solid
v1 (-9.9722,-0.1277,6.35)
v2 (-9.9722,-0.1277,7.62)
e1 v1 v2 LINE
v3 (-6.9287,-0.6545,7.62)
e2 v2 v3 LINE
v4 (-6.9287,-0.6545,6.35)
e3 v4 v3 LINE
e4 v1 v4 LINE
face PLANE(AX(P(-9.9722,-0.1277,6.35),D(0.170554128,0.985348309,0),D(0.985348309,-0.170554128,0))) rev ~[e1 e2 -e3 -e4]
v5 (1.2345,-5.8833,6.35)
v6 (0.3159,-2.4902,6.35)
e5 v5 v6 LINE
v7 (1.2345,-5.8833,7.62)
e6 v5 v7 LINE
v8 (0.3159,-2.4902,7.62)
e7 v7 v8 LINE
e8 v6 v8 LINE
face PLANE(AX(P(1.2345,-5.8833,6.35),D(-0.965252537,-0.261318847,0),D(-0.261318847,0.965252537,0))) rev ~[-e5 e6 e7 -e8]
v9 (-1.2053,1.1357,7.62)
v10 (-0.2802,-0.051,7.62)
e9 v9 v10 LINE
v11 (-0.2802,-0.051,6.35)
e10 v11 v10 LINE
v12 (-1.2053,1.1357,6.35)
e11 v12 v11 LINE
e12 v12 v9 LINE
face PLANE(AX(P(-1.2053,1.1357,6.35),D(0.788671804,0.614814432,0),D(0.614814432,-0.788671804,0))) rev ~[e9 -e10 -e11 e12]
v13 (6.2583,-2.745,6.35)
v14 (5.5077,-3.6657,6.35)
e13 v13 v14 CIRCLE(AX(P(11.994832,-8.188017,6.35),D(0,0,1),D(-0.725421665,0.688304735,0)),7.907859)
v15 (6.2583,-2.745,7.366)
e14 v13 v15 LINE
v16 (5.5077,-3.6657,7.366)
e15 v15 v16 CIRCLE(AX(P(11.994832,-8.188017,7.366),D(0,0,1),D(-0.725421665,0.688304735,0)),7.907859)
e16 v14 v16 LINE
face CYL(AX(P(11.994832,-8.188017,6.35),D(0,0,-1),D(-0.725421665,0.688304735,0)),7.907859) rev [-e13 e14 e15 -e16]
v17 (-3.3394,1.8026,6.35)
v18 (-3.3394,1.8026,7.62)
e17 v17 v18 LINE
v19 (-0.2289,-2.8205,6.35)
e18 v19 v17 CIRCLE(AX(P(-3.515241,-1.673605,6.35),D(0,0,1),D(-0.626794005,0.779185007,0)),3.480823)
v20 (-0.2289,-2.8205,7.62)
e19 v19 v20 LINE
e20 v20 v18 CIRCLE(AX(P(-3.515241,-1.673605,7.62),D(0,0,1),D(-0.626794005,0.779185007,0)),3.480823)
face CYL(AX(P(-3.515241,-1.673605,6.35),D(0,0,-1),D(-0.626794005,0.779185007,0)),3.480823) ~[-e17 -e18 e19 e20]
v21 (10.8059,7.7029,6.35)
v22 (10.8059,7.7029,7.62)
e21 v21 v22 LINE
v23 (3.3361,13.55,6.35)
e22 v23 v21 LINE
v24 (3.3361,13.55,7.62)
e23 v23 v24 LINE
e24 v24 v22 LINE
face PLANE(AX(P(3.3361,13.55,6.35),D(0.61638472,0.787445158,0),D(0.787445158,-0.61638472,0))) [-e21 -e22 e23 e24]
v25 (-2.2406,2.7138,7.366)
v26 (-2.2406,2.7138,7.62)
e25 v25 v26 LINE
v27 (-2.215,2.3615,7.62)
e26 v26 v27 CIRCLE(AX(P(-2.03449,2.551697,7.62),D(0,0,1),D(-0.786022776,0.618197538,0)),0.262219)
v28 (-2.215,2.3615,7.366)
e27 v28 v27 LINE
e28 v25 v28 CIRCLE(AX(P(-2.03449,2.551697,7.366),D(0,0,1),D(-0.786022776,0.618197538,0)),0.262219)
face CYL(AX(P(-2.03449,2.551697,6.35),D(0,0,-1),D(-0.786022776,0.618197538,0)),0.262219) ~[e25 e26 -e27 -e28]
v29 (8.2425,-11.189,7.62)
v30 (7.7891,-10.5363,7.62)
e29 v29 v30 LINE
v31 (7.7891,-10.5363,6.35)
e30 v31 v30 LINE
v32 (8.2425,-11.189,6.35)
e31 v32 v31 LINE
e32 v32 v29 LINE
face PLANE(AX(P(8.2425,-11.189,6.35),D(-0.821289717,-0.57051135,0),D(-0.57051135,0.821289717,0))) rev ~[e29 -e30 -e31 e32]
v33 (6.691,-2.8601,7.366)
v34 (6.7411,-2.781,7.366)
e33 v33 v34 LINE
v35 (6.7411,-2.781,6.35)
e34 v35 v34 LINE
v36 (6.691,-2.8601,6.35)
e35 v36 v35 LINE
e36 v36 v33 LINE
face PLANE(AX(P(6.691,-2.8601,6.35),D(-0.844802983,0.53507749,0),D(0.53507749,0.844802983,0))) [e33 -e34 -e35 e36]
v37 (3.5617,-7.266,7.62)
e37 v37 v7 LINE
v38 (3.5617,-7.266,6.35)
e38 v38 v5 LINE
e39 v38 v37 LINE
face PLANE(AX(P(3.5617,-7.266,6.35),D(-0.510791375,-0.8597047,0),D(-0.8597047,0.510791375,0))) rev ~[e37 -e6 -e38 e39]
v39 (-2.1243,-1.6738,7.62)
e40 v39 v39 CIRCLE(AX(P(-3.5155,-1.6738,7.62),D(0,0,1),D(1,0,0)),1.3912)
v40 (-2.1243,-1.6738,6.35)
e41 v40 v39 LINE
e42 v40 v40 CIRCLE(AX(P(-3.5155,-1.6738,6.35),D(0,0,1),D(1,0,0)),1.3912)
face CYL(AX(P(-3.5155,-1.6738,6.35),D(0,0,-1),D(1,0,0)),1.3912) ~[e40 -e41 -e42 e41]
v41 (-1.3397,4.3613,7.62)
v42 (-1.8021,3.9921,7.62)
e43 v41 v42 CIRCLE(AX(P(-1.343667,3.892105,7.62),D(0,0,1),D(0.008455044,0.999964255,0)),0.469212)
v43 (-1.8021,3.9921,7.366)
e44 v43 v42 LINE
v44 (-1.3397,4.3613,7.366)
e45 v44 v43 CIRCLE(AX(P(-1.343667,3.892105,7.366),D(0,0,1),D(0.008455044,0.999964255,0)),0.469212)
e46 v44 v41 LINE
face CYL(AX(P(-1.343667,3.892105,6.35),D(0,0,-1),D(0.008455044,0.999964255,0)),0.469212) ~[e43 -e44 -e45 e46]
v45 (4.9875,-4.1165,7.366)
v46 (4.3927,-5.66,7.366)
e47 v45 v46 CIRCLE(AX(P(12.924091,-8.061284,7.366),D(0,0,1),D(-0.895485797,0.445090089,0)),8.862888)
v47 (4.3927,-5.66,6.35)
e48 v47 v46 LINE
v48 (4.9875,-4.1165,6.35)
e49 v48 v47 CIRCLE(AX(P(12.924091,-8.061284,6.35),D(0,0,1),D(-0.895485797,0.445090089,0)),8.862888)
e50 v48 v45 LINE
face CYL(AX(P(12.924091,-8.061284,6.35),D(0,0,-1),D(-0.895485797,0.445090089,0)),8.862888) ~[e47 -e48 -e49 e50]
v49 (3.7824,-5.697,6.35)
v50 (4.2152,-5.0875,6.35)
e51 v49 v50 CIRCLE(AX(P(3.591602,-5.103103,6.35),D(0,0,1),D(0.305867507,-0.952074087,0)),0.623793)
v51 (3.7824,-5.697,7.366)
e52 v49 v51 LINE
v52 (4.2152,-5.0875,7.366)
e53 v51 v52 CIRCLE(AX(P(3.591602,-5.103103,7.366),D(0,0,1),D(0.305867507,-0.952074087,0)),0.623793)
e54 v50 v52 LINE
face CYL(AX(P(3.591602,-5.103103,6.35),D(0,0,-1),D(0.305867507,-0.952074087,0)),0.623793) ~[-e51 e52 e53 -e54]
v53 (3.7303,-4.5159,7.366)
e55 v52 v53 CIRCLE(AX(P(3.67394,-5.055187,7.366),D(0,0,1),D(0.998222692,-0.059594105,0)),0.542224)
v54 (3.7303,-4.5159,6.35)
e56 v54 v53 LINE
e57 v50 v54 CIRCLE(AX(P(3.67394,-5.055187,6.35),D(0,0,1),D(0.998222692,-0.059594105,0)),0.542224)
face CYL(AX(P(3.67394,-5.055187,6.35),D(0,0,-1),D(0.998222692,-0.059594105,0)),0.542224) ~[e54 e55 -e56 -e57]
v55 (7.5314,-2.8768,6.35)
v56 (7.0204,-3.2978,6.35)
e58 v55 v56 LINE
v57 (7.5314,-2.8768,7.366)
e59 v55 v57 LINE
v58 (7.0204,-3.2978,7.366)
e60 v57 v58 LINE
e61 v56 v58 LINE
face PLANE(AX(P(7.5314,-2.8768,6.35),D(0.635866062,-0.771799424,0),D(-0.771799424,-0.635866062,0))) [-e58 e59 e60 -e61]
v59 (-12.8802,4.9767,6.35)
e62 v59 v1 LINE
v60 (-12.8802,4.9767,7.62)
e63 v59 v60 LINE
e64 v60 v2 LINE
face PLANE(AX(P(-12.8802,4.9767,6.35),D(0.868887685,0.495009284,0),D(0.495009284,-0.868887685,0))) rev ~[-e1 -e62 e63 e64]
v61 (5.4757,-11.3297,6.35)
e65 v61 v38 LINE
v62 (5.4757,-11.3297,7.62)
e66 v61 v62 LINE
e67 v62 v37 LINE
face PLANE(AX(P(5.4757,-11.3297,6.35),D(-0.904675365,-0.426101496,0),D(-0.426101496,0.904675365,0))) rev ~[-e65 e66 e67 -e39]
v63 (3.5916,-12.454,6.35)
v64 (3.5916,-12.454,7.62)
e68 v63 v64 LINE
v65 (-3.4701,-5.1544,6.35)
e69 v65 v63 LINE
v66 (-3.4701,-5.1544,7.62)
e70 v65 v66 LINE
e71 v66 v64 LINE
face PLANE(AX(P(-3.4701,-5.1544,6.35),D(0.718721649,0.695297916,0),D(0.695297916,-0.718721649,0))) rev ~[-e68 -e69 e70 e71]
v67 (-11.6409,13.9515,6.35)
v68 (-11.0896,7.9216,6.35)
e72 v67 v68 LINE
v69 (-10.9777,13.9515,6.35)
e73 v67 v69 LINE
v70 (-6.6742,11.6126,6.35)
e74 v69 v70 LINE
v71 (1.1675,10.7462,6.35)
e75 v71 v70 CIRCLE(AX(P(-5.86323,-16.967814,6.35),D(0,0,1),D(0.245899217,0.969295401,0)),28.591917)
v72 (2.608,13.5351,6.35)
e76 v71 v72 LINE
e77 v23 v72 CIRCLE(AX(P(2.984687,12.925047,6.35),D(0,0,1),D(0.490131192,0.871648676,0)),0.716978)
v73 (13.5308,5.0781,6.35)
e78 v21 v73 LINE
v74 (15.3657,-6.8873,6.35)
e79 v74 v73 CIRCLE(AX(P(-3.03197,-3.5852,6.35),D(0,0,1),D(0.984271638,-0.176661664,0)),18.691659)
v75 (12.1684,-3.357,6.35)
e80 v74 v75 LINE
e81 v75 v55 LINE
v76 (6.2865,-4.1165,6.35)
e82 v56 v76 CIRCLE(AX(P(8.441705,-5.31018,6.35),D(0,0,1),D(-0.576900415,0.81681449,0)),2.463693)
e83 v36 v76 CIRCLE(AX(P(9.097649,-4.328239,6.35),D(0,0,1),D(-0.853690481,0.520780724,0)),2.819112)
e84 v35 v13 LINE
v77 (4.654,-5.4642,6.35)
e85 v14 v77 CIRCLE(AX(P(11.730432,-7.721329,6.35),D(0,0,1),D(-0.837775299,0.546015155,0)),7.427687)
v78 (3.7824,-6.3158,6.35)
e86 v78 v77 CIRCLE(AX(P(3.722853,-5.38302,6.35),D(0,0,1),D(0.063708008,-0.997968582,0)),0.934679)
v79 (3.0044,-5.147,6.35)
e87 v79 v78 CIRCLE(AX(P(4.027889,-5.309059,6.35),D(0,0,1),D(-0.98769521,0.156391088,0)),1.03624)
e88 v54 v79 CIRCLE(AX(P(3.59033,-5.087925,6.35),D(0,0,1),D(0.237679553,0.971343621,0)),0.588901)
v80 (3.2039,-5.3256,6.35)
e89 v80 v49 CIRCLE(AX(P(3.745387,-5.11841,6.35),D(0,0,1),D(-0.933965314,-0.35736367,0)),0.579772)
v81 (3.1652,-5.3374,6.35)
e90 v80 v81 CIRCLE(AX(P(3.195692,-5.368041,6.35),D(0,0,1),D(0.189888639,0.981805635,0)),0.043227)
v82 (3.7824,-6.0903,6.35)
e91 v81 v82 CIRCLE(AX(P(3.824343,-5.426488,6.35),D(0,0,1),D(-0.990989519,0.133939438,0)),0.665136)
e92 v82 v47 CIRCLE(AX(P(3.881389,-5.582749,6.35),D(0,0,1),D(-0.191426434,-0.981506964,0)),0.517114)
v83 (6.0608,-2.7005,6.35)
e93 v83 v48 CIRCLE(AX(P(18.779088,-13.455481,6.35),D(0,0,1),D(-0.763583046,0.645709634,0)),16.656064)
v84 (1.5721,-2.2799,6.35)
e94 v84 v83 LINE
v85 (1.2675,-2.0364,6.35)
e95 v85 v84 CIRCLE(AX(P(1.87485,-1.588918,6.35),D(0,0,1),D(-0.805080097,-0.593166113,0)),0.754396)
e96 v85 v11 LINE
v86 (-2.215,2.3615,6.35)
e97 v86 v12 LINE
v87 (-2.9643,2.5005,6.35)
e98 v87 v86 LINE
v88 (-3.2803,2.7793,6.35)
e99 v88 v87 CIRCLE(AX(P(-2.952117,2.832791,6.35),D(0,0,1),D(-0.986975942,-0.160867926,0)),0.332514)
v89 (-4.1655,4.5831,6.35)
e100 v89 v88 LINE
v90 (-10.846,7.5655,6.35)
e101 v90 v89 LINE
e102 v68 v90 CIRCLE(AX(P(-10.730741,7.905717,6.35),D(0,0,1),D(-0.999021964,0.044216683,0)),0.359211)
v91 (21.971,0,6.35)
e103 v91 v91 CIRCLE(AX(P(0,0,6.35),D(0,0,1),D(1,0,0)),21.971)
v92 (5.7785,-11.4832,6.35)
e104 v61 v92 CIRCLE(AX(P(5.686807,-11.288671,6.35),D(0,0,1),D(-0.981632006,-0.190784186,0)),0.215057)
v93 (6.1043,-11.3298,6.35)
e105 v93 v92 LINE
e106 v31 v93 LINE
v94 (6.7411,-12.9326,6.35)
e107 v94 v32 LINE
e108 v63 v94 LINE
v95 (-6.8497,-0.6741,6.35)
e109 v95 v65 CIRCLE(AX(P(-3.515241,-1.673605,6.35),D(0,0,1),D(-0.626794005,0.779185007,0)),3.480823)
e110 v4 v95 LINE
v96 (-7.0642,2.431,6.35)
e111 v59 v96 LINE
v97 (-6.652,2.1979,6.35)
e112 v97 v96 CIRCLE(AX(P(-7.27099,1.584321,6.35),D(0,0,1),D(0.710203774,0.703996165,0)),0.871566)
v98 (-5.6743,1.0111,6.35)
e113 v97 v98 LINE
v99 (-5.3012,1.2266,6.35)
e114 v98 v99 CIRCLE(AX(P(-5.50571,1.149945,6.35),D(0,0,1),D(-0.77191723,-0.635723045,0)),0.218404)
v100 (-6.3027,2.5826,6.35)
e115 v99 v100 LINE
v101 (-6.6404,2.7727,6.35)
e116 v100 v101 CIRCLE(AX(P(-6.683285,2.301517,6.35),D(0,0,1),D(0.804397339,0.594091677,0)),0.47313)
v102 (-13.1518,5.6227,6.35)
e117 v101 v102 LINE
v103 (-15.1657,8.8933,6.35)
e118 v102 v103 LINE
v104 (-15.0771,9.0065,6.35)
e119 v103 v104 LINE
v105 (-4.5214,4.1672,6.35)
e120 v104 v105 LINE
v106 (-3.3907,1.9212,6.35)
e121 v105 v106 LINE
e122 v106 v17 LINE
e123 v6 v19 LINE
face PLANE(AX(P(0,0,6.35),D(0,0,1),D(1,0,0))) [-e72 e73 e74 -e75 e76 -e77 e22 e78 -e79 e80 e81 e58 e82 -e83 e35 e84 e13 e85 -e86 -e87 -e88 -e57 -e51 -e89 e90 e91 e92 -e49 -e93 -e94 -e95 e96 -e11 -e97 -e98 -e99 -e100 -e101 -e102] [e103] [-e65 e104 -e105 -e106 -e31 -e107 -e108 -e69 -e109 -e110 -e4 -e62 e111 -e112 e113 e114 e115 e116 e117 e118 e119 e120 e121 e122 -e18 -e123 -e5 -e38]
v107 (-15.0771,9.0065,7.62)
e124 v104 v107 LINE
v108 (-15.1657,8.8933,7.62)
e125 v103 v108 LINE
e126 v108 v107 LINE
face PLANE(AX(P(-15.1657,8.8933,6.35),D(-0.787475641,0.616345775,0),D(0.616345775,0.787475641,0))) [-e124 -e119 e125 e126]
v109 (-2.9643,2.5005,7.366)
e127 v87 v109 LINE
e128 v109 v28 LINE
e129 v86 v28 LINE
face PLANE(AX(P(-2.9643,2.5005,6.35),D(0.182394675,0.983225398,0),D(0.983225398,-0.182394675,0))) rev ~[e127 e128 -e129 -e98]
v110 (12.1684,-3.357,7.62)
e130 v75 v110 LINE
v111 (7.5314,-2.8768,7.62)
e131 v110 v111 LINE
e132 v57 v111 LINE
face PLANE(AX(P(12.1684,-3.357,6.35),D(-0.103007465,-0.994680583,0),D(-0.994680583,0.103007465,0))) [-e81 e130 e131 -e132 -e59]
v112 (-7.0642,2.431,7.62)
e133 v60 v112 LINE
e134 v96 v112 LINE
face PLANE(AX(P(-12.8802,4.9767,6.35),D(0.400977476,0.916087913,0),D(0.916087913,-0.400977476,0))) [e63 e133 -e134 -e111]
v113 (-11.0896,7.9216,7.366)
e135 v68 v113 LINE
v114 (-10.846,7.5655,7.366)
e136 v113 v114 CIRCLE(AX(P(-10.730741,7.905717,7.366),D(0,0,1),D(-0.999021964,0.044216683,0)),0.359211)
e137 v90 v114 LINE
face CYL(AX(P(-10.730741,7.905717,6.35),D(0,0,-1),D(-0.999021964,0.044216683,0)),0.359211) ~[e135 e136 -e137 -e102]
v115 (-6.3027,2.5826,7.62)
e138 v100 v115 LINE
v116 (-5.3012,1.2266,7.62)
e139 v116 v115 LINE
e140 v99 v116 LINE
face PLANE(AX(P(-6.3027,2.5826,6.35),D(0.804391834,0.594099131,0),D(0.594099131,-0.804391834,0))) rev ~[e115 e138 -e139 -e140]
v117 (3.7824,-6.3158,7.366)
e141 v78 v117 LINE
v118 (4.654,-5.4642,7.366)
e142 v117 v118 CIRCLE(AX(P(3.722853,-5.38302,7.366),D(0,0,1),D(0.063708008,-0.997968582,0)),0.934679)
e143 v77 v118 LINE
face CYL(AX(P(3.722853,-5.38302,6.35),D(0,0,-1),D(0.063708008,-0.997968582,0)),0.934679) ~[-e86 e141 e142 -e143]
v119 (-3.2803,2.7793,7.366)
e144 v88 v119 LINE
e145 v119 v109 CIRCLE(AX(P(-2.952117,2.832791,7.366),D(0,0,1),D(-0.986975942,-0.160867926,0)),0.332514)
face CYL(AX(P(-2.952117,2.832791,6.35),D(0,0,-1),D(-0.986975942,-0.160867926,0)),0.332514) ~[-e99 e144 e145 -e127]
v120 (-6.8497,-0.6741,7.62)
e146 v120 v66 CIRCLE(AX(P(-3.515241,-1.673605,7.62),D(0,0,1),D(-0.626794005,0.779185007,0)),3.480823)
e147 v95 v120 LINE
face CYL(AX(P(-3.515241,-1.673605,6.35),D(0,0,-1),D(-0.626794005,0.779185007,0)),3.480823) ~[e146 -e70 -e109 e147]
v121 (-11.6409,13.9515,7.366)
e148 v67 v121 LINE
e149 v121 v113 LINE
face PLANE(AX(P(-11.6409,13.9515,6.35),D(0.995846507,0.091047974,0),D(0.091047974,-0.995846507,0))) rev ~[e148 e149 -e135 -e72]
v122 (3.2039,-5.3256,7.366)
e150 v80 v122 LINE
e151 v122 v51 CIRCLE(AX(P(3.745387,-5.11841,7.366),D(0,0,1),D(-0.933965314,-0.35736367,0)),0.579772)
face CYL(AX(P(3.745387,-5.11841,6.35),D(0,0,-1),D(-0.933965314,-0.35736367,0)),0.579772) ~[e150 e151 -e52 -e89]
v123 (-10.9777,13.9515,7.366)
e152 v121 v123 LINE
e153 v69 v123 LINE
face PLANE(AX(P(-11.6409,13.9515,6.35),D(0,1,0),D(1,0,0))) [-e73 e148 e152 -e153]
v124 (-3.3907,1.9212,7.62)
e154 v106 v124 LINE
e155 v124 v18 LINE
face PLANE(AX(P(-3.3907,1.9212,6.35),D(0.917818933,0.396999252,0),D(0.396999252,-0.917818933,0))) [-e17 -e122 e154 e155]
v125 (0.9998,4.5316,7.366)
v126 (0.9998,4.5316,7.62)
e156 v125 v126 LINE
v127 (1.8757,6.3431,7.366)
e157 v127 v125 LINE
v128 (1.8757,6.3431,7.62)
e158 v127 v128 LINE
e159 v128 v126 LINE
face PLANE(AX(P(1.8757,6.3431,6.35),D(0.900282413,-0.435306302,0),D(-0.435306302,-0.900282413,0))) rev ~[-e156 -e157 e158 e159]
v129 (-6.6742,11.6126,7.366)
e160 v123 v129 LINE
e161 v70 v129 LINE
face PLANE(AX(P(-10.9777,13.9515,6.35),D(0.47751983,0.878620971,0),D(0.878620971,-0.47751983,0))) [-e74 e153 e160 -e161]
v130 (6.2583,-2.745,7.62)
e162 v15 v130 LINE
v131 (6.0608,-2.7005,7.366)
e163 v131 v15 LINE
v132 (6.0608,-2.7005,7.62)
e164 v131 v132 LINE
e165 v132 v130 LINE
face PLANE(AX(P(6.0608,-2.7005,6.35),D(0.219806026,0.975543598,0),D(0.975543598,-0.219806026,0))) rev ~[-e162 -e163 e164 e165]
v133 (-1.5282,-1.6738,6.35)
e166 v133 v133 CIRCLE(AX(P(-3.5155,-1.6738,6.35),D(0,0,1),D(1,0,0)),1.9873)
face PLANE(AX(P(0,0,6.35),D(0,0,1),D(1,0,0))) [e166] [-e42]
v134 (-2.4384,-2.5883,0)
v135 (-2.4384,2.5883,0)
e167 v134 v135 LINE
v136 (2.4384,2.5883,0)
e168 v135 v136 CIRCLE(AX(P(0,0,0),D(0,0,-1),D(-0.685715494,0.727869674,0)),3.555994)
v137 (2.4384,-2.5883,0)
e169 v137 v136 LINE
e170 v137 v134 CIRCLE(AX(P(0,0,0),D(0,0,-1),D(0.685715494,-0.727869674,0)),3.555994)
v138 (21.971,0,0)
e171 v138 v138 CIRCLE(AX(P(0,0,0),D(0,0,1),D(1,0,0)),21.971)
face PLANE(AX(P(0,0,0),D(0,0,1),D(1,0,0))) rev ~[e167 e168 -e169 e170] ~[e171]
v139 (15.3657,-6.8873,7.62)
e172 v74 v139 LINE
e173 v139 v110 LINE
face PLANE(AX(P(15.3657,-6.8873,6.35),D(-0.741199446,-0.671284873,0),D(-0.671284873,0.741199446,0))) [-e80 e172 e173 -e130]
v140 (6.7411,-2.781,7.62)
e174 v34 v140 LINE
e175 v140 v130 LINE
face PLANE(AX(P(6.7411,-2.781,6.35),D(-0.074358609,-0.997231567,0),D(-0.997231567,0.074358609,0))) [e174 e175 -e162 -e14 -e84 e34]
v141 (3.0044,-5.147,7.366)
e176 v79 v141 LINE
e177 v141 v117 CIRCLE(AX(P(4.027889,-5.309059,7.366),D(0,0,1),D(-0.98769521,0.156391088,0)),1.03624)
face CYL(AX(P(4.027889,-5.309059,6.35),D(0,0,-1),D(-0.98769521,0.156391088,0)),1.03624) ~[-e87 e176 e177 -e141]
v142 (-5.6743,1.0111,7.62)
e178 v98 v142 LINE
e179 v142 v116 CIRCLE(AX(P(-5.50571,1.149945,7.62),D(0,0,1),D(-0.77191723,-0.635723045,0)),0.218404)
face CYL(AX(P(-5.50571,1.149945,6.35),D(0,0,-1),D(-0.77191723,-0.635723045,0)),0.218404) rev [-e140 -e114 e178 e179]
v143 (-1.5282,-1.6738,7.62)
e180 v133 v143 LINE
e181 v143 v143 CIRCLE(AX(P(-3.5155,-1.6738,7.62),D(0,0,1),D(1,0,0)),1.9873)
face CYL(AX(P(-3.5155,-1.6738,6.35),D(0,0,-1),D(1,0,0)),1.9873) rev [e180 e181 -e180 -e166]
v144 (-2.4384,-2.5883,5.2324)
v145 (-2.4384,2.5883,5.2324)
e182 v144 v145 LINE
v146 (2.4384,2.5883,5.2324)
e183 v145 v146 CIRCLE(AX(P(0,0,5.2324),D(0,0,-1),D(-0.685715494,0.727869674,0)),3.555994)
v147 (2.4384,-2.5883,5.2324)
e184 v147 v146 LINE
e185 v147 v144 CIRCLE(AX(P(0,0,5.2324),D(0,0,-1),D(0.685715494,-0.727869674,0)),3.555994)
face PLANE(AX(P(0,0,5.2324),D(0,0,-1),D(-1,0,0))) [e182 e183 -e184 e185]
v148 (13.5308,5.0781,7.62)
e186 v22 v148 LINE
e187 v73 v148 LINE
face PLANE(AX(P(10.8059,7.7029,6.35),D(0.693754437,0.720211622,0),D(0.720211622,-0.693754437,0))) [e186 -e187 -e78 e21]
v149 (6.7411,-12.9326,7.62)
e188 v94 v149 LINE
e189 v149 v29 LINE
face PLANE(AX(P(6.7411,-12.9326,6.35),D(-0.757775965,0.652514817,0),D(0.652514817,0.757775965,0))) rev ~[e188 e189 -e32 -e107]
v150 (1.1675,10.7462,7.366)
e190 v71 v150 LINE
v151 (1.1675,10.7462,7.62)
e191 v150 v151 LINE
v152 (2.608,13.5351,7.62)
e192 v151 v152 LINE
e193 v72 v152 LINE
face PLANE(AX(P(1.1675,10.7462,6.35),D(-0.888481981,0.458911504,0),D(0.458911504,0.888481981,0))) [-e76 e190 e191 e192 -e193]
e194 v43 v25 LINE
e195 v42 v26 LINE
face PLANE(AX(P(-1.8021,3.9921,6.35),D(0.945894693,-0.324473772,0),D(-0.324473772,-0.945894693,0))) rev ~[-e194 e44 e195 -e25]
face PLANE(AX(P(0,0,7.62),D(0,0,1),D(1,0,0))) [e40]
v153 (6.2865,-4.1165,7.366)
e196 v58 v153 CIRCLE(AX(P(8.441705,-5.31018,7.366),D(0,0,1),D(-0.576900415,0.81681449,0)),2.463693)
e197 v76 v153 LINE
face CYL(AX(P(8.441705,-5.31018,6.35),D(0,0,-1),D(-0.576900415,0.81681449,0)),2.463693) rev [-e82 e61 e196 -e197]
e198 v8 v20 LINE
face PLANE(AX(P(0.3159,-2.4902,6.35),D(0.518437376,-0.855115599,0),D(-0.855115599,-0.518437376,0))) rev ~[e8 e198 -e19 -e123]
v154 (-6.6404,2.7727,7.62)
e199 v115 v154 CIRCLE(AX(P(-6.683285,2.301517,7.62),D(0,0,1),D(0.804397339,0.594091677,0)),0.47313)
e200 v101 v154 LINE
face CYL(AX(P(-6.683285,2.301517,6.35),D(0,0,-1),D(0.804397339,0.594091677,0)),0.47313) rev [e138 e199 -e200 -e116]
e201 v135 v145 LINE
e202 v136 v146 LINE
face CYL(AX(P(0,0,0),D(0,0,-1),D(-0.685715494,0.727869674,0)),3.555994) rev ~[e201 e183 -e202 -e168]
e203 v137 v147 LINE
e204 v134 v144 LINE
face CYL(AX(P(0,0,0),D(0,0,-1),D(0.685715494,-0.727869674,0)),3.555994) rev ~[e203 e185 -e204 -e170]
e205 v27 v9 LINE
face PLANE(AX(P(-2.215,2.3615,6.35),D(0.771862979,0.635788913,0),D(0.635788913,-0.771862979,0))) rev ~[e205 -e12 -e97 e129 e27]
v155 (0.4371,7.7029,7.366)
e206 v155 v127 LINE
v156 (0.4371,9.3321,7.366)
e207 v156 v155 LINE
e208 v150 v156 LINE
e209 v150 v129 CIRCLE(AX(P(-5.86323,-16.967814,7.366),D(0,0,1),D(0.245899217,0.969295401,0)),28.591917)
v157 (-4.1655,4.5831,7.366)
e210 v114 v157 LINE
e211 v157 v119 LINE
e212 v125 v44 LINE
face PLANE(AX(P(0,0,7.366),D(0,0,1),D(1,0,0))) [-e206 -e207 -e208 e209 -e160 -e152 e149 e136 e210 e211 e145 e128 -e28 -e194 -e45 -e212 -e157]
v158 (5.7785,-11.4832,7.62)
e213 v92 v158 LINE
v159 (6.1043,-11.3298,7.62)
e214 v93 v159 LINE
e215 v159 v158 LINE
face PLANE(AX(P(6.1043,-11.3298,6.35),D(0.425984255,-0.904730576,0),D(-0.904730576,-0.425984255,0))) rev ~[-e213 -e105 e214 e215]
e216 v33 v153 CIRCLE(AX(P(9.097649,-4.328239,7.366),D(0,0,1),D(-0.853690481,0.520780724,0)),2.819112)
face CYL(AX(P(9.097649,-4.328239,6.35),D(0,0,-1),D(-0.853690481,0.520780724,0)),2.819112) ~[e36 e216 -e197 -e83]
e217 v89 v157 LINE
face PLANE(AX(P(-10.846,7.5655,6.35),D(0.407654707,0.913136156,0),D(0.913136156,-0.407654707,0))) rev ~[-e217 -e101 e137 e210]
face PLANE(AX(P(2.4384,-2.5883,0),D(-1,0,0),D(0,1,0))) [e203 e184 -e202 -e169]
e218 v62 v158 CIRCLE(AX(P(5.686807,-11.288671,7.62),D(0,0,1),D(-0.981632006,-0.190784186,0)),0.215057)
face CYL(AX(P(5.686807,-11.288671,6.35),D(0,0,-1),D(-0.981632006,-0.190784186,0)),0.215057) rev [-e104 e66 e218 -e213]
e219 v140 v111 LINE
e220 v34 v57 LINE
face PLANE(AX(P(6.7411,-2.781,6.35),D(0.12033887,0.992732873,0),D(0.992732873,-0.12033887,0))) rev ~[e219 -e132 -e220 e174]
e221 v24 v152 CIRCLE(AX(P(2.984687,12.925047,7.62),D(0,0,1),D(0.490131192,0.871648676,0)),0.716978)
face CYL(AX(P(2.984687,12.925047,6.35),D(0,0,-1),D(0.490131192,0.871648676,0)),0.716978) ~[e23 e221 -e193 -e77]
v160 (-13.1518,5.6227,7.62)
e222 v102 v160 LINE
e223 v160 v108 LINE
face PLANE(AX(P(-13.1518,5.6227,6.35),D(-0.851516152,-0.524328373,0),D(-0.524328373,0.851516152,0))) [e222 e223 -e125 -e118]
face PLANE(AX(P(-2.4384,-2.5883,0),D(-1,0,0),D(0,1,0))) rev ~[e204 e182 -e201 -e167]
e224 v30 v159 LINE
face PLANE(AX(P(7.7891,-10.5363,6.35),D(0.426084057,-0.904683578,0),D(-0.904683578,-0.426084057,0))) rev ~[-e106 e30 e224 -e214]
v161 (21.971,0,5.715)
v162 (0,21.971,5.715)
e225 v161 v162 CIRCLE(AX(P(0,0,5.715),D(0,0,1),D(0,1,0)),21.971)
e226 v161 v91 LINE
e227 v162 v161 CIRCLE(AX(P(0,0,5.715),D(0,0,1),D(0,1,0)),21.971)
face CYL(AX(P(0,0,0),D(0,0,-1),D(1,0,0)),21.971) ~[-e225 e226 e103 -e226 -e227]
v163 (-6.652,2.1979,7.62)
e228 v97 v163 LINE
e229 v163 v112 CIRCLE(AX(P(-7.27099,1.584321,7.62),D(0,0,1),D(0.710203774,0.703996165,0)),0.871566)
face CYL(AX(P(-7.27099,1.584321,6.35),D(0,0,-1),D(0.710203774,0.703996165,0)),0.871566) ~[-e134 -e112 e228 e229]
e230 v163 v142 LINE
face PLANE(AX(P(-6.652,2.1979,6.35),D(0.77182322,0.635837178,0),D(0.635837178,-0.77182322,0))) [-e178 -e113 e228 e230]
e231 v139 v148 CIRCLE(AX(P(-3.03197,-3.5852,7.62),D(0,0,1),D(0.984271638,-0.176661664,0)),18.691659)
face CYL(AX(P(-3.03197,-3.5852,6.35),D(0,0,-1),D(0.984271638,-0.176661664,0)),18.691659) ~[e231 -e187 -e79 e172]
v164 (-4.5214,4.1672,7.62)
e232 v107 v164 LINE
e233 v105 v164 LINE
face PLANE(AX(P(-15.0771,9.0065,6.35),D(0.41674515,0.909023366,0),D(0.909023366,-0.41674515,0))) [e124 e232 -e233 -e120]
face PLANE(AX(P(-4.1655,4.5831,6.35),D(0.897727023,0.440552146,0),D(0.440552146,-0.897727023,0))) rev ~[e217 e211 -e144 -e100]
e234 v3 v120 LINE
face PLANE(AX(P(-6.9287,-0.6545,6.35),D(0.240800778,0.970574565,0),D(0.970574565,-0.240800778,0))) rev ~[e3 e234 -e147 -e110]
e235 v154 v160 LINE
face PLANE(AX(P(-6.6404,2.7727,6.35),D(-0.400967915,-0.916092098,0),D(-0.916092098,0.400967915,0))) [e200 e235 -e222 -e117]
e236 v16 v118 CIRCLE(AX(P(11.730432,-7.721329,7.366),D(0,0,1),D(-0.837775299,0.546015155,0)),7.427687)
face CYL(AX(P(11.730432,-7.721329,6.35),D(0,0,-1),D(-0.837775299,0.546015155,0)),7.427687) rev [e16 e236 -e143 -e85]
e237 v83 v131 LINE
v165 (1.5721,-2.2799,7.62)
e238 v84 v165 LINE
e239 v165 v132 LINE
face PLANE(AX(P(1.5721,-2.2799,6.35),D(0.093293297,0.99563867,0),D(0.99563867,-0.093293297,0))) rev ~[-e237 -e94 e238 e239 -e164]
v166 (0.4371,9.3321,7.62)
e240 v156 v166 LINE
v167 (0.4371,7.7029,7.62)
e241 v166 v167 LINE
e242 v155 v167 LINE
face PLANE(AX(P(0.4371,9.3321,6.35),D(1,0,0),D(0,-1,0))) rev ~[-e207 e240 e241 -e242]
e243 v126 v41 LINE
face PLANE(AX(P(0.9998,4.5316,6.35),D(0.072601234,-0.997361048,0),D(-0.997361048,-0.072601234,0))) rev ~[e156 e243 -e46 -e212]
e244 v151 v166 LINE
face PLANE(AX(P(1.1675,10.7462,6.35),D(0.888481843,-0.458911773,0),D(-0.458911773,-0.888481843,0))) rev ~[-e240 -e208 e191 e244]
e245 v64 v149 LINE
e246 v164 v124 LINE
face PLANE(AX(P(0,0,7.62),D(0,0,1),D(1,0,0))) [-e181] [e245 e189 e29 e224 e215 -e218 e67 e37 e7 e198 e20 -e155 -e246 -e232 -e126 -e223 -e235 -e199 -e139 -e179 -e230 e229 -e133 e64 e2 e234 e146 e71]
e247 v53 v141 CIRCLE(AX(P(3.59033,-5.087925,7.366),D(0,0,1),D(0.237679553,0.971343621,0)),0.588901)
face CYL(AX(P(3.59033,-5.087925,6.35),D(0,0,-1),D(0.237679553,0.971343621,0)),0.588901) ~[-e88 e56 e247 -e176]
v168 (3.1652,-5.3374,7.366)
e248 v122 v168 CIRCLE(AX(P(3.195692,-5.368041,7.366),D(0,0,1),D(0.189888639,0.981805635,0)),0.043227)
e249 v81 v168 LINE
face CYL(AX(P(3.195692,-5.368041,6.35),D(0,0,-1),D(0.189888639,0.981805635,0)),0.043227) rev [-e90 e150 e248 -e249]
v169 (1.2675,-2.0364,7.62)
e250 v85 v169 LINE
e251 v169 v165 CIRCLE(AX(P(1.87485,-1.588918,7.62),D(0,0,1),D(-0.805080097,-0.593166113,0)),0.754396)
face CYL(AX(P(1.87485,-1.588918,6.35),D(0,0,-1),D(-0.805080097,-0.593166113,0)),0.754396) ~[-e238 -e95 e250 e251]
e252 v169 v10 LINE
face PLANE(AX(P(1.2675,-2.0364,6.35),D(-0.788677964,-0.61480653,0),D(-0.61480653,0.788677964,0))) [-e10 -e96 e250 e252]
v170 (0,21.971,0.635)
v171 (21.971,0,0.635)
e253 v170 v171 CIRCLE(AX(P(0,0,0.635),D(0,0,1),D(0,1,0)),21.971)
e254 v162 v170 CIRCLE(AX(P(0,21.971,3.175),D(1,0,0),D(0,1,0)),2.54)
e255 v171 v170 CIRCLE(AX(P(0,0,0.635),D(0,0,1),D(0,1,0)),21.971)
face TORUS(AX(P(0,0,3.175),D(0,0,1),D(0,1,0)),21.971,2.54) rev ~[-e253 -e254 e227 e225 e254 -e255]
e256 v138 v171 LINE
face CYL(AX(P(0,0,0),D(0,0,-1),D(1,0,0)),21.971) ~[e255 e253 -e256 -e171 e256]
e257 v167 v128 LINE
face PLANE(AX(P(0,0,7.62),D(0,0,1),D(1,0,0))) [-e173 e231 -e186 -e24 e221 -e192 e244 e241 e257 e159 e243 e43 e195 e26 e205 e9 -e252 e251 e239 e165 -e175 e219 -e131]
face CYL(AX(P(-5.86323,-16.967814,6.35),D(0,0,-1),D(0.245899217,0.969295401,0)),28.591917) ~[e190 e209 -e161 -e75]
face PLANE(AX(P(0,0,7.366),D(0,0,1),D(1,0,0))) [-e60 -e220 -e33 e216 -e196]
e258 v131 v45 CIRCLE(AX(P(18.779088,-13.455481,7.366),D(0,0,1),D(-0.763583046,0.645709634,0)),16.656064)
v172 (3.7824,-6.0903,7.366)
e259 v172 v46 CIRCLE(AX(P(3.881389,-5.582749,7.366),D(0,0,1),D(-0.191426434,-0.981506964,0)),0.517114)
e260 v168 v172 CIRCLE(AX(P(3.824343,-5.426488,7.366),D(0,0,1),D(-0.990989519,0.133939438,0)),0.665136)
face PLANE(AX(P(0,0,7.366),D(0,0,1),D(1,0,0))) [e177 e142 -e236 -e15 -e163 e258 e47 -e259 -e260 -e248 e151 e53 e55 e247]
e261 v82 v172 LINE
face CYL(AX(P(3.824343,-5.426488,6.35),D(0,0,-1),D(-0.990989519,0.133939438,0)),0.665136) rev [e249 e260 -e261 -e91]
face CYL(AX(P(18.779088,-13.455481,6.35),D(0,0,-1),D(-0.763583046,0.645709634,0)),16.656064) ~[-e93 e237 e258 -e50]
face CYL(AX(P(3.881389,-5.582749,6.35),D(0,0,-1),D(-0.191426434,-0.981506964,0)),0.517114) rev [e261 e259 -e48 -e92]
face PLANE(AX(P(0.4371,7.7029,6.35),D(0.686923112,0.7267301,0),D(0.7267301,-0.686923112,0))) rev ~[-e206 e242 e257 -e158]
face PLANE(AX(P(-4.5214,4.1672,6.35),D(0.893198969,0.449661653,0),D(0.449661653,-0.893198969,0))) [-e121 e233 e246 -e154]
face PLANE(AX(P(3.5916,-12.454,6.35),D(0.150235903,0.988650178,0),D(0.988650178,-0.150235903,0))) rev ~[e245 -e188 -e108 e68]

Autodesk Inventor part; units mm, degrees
ref_plane "YZ Plane" through (0, 0, 0) normal (1, 0, 0) x (0, 1, 0)
ref_plane "XZ Plane" through (0, 0, 0) normal (0, 1, 0) x (-1, 0, 0)
ref_plane "XY Plane" through (0, 0, 0) normal (0, 0, 1) x (1, 0, 0)
sketch "Sketch1" plane through (0, 0, 0) normal (0, 0, 1) x (1, 0, 0)
  circle A0 centre (0, 0) radius 21.971
  dimension "d0" = 43.942
extrude "Extrusion1" add sketch "Sketch1" along normal blind 6.35
sketch "Sketch3" plane through (0, 0, 0) normal (1, 0, 0) x (0, 1, 0)
  line L0 (21.971, 0) -> (21.971, 6.35) projected
  circle A0 centre (21.971, 3.175) radius 2.54
  line L1 (0, -1.27) -> (0, 7.62) projected
  point P0 (0, 0)
  dimension "d37" = 5.08
revolve "Revolution1" cut sketch "Sketch3" angle 360 about axis through (0, 0, -10) along (0, 0, 1)
sketch "Sketch4" plane through (0, 0, 0) normal (0, 0, -1) x (-1, 0, 0)
  line L0 (2.4384, -2.5883) -> (2.4384, 2.5883)
  line L1 (-2.4384, -2.5883) -> (-2.4384, 2.5883)
  arc A0 (2.4384, 2.5883) -> (-2.4384, 2.5883) centre (0, 0) ccw
  arc A1 (-2.4384, -2.5883) -> (2.4384, -2.5883) centre (0, 0) ccw
  dimension "d44" = 4.8768
  dimension "d45" = 3.556
  dimension "d46" = 5.1766
  dimension "d47" = 2.4384
extrude "Extrusion3" cut sketch "Sketch4" against normal blind 5.2324
sketch "Sketch7" plane through (0, 0, 6.35) normal (0, 0, 1) x (1, 0, 0)
  line L0 (-16.6095, 17.2761) -> (16.9999, 17.2761) construction
  line L1 (16.9999, 17.2761) -> (16.9999, -16.3333) construction
  line L2 (16.9999, -16.3333) -> (-16.6095, -16.3333) construction
  line L3 (-16.6095, -16.3333) -> (-16.6095, 17.2761) construction
  line L4 (-11.6409, 13.9515) -> (-11.0896, 7.9216)
  line L5 (-10.846, 7.5655) -> (-4.1655, 4.5831)
  line L6 (-4.1655, 4.5831) -> (-3.2803, 2.7793)
  line L7 (-2.9643, 2.5005) -> (-2.215, 2.3615)
  arc A0 (-3.2803, 2.7793) -> (-2.9643, 2.5005) centre (-2.9521, 2.8328) ccw
  arc A1 (-11.0896, 7.9216) -> (-10.846, 7.5655) centre (-10.7308, 7.9057) ccw
  line L8 (-2.215, 2.3615) -> (-1.2053, 1.1357)
  circle A2 centre (-3.5155, -1.6738) radius 1.3912
  circle A3 centre (-3.5155, -1.6738) radius 1.9873
  arc A4 (-5.697, 1.0386) -> (-5.3458, 1.287) centre (-3.5155, -1.6738) ccw
  line L9 (-11.6409, 13.9515) -> (-10.9777, 13.9515)
  line L10 (-10.9777, 13.9515) -> (-6.6742, 11.6126)
  arc A5 (1.1675, 10.7462) -> (-6.6742, 11.6126) centre (-5.8633, -16.9682) ccw
  line L11 (1.1675, 10.7462) -> (2.608, 13.5351)
  arc A6 (3.3361, 13.55) -> (2.608, 13.5351) centre (2.9847, 12.9251) ccw
  line L12 (3.3361, 13.55) -> (10.8059, 7.7029)
  line L13 (10.8059, 7.7029) -> (13.5308, 5.0781)
  arc A7 (15.3657, -6.8873) -> (13.5308, 5.0781) centre (-3.032, -3.5852) ccw
  line L14 (15.3657, -6.8873) -> (12.1684, -3.357)
  line L15 (12.1684, -3.357) -> (7.5314, -2.8768)
  line L16 (7.5314, -2.8768) -> (7.0204, -3.2978)
  arc A8 (7.0204, -3.2978) -> (6.2865, -4.1165) centre (8.4411, -5.3095) ccw
  arc A9 (6.691, -2.8601) -> (6.2865, -4.1165) centre (9.098, -4.3284) ccw
  arc A10 (1.2675, -2.0364) -> (1.5721, -2.2799) centre (1.8757, -1.5881) ccw
  line L17 (1.2675, -2.0364) -> (-0.2802, -0.051)
  line L18 (-1.2053, 1.1357) -> (-0.2802, -0.051)
  line L19 (-15.1657, 8.8933) -> (-15.0771, 9.0065)
  line L20 (-15.0771, 9.0065) -> (-4.5214, 4.1672)
  line L21 (-4.5214, 4.1672) -> (-3.3907, 1.9212)
  line L22 (-6.652, 2.1979) -> (-5.6743, 1.0111)
  line L23 (-6.3027, 2.5826) -> (-5.3012, 1.2266)
  arc A11 (-5.6743, 1.0111) -> (-5.3012, 1.2266) centre (-5.5057, 1.15) ccw
  arc A12 (-6.652, 2.1979) -> (-7.0642, 2.431) centre (-7.2707, 1.5847) ccw
  arc A13 (-6.3027, 2.5826) -> (-6.6404, 2.7727) centre (-6.6833, 2.3015) ccw
  line L24 (-12.8802, 4.9767) -> (-7.0642, 2.431)
  line L25 (-6.6404, 2.7727) -> (-13.1518, 5.6227)
  line L26 (-13.1518, 5.6227) -> (-15.1657, 8.8933)
  line L27 (-12.8802, 4.9767) -> (-9.9722, -0.1277)
  line L28 (-9.9722, -0.1277) -> (-6.9287, -0.6545)
  arc A14 (4.2152, -5.0875) -> (3.7303, -4.5159) centre (3.6739, -5.0552) ccw
  arc A15 (3.7303, -4.5159) -> (3.0044, -5.147) centre (3.5903, -5.0878) ccw
  arc A16 (3.7824, -5.697) -> (4.2152, -5.0875) centre (3.5916, -5.1031) ccw
  arc A17 (3.2039, -5.3256) -> (3.7824, -5.697) centre (3.7454, -5.1184) ccw
  arc A18 (3.0044, -5.147) -> (3.7824, -6.3158) centre (4.0277, -5.3091) ccw
  arc A19 (3.1652, -5.3374) -> (3.7824, -6.0903) centre (3.8243, -5.4265) ccw
  arc A20 (3.2039, -5.3256) -> (3.1652, -5.3374) centre (3.1957, -5.3682) ccw
  arc A21 (3.7824, -6.0903) -> (4.3927, -5.66) centre (3.8814, -5.5828) ccw
  arc A22 (4.9875, -4.1165) -> (4.3927, -5.66) centre (12.9264, -8.0623) ccw
  arc A23 (3.7824, -6.3158) -> (4.654, -5.4642) centre (3.7228, -5.3829) ccw
  arc A24 (5.5077, -3.6657) -> (4.654, -5.4642) centre (11.7252, -7.7184) ccw
  line L29 (6.691, -2.8601) -> (6.7411, -2.781)
  line L30 (6.7411, -2.781) -> (6.2583, -2.745)
  arc A25 (6.2583, -2.745) -> (5.5077, -3.6657) centre (11.9972, -8.1901) ccw
  line L31 (1.5721, -2.2799) -> (6.0608, -2.7005)
  arc A26 (6.0608, -2.7005) -> (4.9875, -4.1165) centre (18.767, -13.4458) ccw
  line L32 (-6.9287, -0.6545) -> (-6.8497, -0.6741)
  line L33 (-3.4701, -5.1544) -> (3.5916, -12.454)
  line L34 (3.5916, -12.454) -> (6.7411, -12.9326)
  line L35 (6.7411, -12.9326) -> (8.2425, -11.189)
  line L36 (8.2425, -11.189) -> (7.7891, -10.5363)
  line L37 (7.7891, -10.5363) -> (6.1043, -11.3298)
  line L38 (6.1043, -11.3298) -> (5.7785, -11.4832)
  arc A27 (5.4757, -11.3297) -> (5.7785, -11.4832) centre (5.6869, -11.2886) ccw
  line L39 (5.4757, -11.3297) -> (3.5617, -7.266)
  line L40 (3.5617, -7.266) -> (1.2345, -5.8833)
  line L41 (1.2345, -5.8833) -> (0.3159, -2.4902)
  line L42 (0.3159, -2.4902) -> (-0.2289, -2.8205)
  line L43 (1.1675, 10.7462) -> (0.4371, 9.3321)
  line L44 (0.4371, 9.3321) -> (0.4371, 7.7029)
  line L45 (0.4371, 7.7029) -> (1.8757, 6.3431)
  line L46 (1.8757, 6.3431) -> (0.9998, 4.5316)
  line L47 (0.9998, 4.5316) -> (-1.3397, 4.3613)
  arc A28 (-1.3397, 4.3613) -> (-1.8021, 3.9921) centre (-1.3437, 3.8922) ccw
  line L48 (-1.8021, 3.9921) -> (-2.2406, 2.7138)
  arc A29 (-2.2406, 2.7138) -> (-2.215, 2.3615) centre (-2.0345, 2.5517) ccw
  line L49 (-3.3907, 1.9212) -> (-3.3394, 1.8026)
  line L50 (6.0608, -2.7005) -> (6.2583, -2.745)
  line L51 (6.7411, -2.781) -> (7.5314, -2.8768)
  point P0 (0, 0)
extrude "Extrusion5" add sketch "Sketch7" along normal blind 1.016 contours L9 L10 A5 L43 L44 L45 L46 L47 A28 L48 A29 L7 A0 L6 L5 A1 L4 | L16 A8 A9 L29 L51 | L50 A25 A24 A23 A18 A15 A14 A16 A17 A20 A19 A21 A22 A26
extrude "Extrusion6" add sketch "Sketch7" along normal blind 1.27 contours L11 A6 L12 L13 A7 L14 L15 L51 L30 L50 L31 A10 L17 L18 L8 A29 L48 A28 L47 L46 L45 L44 L43 | A2 | L22 A11 L23 A4 | A4 L32 L28 L27 L24 A12 L22 | A4 L42 L41 L40 L39 A27 L38 L37 L36 L35 L34 L33 | L23 A13 L25 L26 L19 L20 L21 L49 A4
properties part number "RTS Small Pharah Wheel"
